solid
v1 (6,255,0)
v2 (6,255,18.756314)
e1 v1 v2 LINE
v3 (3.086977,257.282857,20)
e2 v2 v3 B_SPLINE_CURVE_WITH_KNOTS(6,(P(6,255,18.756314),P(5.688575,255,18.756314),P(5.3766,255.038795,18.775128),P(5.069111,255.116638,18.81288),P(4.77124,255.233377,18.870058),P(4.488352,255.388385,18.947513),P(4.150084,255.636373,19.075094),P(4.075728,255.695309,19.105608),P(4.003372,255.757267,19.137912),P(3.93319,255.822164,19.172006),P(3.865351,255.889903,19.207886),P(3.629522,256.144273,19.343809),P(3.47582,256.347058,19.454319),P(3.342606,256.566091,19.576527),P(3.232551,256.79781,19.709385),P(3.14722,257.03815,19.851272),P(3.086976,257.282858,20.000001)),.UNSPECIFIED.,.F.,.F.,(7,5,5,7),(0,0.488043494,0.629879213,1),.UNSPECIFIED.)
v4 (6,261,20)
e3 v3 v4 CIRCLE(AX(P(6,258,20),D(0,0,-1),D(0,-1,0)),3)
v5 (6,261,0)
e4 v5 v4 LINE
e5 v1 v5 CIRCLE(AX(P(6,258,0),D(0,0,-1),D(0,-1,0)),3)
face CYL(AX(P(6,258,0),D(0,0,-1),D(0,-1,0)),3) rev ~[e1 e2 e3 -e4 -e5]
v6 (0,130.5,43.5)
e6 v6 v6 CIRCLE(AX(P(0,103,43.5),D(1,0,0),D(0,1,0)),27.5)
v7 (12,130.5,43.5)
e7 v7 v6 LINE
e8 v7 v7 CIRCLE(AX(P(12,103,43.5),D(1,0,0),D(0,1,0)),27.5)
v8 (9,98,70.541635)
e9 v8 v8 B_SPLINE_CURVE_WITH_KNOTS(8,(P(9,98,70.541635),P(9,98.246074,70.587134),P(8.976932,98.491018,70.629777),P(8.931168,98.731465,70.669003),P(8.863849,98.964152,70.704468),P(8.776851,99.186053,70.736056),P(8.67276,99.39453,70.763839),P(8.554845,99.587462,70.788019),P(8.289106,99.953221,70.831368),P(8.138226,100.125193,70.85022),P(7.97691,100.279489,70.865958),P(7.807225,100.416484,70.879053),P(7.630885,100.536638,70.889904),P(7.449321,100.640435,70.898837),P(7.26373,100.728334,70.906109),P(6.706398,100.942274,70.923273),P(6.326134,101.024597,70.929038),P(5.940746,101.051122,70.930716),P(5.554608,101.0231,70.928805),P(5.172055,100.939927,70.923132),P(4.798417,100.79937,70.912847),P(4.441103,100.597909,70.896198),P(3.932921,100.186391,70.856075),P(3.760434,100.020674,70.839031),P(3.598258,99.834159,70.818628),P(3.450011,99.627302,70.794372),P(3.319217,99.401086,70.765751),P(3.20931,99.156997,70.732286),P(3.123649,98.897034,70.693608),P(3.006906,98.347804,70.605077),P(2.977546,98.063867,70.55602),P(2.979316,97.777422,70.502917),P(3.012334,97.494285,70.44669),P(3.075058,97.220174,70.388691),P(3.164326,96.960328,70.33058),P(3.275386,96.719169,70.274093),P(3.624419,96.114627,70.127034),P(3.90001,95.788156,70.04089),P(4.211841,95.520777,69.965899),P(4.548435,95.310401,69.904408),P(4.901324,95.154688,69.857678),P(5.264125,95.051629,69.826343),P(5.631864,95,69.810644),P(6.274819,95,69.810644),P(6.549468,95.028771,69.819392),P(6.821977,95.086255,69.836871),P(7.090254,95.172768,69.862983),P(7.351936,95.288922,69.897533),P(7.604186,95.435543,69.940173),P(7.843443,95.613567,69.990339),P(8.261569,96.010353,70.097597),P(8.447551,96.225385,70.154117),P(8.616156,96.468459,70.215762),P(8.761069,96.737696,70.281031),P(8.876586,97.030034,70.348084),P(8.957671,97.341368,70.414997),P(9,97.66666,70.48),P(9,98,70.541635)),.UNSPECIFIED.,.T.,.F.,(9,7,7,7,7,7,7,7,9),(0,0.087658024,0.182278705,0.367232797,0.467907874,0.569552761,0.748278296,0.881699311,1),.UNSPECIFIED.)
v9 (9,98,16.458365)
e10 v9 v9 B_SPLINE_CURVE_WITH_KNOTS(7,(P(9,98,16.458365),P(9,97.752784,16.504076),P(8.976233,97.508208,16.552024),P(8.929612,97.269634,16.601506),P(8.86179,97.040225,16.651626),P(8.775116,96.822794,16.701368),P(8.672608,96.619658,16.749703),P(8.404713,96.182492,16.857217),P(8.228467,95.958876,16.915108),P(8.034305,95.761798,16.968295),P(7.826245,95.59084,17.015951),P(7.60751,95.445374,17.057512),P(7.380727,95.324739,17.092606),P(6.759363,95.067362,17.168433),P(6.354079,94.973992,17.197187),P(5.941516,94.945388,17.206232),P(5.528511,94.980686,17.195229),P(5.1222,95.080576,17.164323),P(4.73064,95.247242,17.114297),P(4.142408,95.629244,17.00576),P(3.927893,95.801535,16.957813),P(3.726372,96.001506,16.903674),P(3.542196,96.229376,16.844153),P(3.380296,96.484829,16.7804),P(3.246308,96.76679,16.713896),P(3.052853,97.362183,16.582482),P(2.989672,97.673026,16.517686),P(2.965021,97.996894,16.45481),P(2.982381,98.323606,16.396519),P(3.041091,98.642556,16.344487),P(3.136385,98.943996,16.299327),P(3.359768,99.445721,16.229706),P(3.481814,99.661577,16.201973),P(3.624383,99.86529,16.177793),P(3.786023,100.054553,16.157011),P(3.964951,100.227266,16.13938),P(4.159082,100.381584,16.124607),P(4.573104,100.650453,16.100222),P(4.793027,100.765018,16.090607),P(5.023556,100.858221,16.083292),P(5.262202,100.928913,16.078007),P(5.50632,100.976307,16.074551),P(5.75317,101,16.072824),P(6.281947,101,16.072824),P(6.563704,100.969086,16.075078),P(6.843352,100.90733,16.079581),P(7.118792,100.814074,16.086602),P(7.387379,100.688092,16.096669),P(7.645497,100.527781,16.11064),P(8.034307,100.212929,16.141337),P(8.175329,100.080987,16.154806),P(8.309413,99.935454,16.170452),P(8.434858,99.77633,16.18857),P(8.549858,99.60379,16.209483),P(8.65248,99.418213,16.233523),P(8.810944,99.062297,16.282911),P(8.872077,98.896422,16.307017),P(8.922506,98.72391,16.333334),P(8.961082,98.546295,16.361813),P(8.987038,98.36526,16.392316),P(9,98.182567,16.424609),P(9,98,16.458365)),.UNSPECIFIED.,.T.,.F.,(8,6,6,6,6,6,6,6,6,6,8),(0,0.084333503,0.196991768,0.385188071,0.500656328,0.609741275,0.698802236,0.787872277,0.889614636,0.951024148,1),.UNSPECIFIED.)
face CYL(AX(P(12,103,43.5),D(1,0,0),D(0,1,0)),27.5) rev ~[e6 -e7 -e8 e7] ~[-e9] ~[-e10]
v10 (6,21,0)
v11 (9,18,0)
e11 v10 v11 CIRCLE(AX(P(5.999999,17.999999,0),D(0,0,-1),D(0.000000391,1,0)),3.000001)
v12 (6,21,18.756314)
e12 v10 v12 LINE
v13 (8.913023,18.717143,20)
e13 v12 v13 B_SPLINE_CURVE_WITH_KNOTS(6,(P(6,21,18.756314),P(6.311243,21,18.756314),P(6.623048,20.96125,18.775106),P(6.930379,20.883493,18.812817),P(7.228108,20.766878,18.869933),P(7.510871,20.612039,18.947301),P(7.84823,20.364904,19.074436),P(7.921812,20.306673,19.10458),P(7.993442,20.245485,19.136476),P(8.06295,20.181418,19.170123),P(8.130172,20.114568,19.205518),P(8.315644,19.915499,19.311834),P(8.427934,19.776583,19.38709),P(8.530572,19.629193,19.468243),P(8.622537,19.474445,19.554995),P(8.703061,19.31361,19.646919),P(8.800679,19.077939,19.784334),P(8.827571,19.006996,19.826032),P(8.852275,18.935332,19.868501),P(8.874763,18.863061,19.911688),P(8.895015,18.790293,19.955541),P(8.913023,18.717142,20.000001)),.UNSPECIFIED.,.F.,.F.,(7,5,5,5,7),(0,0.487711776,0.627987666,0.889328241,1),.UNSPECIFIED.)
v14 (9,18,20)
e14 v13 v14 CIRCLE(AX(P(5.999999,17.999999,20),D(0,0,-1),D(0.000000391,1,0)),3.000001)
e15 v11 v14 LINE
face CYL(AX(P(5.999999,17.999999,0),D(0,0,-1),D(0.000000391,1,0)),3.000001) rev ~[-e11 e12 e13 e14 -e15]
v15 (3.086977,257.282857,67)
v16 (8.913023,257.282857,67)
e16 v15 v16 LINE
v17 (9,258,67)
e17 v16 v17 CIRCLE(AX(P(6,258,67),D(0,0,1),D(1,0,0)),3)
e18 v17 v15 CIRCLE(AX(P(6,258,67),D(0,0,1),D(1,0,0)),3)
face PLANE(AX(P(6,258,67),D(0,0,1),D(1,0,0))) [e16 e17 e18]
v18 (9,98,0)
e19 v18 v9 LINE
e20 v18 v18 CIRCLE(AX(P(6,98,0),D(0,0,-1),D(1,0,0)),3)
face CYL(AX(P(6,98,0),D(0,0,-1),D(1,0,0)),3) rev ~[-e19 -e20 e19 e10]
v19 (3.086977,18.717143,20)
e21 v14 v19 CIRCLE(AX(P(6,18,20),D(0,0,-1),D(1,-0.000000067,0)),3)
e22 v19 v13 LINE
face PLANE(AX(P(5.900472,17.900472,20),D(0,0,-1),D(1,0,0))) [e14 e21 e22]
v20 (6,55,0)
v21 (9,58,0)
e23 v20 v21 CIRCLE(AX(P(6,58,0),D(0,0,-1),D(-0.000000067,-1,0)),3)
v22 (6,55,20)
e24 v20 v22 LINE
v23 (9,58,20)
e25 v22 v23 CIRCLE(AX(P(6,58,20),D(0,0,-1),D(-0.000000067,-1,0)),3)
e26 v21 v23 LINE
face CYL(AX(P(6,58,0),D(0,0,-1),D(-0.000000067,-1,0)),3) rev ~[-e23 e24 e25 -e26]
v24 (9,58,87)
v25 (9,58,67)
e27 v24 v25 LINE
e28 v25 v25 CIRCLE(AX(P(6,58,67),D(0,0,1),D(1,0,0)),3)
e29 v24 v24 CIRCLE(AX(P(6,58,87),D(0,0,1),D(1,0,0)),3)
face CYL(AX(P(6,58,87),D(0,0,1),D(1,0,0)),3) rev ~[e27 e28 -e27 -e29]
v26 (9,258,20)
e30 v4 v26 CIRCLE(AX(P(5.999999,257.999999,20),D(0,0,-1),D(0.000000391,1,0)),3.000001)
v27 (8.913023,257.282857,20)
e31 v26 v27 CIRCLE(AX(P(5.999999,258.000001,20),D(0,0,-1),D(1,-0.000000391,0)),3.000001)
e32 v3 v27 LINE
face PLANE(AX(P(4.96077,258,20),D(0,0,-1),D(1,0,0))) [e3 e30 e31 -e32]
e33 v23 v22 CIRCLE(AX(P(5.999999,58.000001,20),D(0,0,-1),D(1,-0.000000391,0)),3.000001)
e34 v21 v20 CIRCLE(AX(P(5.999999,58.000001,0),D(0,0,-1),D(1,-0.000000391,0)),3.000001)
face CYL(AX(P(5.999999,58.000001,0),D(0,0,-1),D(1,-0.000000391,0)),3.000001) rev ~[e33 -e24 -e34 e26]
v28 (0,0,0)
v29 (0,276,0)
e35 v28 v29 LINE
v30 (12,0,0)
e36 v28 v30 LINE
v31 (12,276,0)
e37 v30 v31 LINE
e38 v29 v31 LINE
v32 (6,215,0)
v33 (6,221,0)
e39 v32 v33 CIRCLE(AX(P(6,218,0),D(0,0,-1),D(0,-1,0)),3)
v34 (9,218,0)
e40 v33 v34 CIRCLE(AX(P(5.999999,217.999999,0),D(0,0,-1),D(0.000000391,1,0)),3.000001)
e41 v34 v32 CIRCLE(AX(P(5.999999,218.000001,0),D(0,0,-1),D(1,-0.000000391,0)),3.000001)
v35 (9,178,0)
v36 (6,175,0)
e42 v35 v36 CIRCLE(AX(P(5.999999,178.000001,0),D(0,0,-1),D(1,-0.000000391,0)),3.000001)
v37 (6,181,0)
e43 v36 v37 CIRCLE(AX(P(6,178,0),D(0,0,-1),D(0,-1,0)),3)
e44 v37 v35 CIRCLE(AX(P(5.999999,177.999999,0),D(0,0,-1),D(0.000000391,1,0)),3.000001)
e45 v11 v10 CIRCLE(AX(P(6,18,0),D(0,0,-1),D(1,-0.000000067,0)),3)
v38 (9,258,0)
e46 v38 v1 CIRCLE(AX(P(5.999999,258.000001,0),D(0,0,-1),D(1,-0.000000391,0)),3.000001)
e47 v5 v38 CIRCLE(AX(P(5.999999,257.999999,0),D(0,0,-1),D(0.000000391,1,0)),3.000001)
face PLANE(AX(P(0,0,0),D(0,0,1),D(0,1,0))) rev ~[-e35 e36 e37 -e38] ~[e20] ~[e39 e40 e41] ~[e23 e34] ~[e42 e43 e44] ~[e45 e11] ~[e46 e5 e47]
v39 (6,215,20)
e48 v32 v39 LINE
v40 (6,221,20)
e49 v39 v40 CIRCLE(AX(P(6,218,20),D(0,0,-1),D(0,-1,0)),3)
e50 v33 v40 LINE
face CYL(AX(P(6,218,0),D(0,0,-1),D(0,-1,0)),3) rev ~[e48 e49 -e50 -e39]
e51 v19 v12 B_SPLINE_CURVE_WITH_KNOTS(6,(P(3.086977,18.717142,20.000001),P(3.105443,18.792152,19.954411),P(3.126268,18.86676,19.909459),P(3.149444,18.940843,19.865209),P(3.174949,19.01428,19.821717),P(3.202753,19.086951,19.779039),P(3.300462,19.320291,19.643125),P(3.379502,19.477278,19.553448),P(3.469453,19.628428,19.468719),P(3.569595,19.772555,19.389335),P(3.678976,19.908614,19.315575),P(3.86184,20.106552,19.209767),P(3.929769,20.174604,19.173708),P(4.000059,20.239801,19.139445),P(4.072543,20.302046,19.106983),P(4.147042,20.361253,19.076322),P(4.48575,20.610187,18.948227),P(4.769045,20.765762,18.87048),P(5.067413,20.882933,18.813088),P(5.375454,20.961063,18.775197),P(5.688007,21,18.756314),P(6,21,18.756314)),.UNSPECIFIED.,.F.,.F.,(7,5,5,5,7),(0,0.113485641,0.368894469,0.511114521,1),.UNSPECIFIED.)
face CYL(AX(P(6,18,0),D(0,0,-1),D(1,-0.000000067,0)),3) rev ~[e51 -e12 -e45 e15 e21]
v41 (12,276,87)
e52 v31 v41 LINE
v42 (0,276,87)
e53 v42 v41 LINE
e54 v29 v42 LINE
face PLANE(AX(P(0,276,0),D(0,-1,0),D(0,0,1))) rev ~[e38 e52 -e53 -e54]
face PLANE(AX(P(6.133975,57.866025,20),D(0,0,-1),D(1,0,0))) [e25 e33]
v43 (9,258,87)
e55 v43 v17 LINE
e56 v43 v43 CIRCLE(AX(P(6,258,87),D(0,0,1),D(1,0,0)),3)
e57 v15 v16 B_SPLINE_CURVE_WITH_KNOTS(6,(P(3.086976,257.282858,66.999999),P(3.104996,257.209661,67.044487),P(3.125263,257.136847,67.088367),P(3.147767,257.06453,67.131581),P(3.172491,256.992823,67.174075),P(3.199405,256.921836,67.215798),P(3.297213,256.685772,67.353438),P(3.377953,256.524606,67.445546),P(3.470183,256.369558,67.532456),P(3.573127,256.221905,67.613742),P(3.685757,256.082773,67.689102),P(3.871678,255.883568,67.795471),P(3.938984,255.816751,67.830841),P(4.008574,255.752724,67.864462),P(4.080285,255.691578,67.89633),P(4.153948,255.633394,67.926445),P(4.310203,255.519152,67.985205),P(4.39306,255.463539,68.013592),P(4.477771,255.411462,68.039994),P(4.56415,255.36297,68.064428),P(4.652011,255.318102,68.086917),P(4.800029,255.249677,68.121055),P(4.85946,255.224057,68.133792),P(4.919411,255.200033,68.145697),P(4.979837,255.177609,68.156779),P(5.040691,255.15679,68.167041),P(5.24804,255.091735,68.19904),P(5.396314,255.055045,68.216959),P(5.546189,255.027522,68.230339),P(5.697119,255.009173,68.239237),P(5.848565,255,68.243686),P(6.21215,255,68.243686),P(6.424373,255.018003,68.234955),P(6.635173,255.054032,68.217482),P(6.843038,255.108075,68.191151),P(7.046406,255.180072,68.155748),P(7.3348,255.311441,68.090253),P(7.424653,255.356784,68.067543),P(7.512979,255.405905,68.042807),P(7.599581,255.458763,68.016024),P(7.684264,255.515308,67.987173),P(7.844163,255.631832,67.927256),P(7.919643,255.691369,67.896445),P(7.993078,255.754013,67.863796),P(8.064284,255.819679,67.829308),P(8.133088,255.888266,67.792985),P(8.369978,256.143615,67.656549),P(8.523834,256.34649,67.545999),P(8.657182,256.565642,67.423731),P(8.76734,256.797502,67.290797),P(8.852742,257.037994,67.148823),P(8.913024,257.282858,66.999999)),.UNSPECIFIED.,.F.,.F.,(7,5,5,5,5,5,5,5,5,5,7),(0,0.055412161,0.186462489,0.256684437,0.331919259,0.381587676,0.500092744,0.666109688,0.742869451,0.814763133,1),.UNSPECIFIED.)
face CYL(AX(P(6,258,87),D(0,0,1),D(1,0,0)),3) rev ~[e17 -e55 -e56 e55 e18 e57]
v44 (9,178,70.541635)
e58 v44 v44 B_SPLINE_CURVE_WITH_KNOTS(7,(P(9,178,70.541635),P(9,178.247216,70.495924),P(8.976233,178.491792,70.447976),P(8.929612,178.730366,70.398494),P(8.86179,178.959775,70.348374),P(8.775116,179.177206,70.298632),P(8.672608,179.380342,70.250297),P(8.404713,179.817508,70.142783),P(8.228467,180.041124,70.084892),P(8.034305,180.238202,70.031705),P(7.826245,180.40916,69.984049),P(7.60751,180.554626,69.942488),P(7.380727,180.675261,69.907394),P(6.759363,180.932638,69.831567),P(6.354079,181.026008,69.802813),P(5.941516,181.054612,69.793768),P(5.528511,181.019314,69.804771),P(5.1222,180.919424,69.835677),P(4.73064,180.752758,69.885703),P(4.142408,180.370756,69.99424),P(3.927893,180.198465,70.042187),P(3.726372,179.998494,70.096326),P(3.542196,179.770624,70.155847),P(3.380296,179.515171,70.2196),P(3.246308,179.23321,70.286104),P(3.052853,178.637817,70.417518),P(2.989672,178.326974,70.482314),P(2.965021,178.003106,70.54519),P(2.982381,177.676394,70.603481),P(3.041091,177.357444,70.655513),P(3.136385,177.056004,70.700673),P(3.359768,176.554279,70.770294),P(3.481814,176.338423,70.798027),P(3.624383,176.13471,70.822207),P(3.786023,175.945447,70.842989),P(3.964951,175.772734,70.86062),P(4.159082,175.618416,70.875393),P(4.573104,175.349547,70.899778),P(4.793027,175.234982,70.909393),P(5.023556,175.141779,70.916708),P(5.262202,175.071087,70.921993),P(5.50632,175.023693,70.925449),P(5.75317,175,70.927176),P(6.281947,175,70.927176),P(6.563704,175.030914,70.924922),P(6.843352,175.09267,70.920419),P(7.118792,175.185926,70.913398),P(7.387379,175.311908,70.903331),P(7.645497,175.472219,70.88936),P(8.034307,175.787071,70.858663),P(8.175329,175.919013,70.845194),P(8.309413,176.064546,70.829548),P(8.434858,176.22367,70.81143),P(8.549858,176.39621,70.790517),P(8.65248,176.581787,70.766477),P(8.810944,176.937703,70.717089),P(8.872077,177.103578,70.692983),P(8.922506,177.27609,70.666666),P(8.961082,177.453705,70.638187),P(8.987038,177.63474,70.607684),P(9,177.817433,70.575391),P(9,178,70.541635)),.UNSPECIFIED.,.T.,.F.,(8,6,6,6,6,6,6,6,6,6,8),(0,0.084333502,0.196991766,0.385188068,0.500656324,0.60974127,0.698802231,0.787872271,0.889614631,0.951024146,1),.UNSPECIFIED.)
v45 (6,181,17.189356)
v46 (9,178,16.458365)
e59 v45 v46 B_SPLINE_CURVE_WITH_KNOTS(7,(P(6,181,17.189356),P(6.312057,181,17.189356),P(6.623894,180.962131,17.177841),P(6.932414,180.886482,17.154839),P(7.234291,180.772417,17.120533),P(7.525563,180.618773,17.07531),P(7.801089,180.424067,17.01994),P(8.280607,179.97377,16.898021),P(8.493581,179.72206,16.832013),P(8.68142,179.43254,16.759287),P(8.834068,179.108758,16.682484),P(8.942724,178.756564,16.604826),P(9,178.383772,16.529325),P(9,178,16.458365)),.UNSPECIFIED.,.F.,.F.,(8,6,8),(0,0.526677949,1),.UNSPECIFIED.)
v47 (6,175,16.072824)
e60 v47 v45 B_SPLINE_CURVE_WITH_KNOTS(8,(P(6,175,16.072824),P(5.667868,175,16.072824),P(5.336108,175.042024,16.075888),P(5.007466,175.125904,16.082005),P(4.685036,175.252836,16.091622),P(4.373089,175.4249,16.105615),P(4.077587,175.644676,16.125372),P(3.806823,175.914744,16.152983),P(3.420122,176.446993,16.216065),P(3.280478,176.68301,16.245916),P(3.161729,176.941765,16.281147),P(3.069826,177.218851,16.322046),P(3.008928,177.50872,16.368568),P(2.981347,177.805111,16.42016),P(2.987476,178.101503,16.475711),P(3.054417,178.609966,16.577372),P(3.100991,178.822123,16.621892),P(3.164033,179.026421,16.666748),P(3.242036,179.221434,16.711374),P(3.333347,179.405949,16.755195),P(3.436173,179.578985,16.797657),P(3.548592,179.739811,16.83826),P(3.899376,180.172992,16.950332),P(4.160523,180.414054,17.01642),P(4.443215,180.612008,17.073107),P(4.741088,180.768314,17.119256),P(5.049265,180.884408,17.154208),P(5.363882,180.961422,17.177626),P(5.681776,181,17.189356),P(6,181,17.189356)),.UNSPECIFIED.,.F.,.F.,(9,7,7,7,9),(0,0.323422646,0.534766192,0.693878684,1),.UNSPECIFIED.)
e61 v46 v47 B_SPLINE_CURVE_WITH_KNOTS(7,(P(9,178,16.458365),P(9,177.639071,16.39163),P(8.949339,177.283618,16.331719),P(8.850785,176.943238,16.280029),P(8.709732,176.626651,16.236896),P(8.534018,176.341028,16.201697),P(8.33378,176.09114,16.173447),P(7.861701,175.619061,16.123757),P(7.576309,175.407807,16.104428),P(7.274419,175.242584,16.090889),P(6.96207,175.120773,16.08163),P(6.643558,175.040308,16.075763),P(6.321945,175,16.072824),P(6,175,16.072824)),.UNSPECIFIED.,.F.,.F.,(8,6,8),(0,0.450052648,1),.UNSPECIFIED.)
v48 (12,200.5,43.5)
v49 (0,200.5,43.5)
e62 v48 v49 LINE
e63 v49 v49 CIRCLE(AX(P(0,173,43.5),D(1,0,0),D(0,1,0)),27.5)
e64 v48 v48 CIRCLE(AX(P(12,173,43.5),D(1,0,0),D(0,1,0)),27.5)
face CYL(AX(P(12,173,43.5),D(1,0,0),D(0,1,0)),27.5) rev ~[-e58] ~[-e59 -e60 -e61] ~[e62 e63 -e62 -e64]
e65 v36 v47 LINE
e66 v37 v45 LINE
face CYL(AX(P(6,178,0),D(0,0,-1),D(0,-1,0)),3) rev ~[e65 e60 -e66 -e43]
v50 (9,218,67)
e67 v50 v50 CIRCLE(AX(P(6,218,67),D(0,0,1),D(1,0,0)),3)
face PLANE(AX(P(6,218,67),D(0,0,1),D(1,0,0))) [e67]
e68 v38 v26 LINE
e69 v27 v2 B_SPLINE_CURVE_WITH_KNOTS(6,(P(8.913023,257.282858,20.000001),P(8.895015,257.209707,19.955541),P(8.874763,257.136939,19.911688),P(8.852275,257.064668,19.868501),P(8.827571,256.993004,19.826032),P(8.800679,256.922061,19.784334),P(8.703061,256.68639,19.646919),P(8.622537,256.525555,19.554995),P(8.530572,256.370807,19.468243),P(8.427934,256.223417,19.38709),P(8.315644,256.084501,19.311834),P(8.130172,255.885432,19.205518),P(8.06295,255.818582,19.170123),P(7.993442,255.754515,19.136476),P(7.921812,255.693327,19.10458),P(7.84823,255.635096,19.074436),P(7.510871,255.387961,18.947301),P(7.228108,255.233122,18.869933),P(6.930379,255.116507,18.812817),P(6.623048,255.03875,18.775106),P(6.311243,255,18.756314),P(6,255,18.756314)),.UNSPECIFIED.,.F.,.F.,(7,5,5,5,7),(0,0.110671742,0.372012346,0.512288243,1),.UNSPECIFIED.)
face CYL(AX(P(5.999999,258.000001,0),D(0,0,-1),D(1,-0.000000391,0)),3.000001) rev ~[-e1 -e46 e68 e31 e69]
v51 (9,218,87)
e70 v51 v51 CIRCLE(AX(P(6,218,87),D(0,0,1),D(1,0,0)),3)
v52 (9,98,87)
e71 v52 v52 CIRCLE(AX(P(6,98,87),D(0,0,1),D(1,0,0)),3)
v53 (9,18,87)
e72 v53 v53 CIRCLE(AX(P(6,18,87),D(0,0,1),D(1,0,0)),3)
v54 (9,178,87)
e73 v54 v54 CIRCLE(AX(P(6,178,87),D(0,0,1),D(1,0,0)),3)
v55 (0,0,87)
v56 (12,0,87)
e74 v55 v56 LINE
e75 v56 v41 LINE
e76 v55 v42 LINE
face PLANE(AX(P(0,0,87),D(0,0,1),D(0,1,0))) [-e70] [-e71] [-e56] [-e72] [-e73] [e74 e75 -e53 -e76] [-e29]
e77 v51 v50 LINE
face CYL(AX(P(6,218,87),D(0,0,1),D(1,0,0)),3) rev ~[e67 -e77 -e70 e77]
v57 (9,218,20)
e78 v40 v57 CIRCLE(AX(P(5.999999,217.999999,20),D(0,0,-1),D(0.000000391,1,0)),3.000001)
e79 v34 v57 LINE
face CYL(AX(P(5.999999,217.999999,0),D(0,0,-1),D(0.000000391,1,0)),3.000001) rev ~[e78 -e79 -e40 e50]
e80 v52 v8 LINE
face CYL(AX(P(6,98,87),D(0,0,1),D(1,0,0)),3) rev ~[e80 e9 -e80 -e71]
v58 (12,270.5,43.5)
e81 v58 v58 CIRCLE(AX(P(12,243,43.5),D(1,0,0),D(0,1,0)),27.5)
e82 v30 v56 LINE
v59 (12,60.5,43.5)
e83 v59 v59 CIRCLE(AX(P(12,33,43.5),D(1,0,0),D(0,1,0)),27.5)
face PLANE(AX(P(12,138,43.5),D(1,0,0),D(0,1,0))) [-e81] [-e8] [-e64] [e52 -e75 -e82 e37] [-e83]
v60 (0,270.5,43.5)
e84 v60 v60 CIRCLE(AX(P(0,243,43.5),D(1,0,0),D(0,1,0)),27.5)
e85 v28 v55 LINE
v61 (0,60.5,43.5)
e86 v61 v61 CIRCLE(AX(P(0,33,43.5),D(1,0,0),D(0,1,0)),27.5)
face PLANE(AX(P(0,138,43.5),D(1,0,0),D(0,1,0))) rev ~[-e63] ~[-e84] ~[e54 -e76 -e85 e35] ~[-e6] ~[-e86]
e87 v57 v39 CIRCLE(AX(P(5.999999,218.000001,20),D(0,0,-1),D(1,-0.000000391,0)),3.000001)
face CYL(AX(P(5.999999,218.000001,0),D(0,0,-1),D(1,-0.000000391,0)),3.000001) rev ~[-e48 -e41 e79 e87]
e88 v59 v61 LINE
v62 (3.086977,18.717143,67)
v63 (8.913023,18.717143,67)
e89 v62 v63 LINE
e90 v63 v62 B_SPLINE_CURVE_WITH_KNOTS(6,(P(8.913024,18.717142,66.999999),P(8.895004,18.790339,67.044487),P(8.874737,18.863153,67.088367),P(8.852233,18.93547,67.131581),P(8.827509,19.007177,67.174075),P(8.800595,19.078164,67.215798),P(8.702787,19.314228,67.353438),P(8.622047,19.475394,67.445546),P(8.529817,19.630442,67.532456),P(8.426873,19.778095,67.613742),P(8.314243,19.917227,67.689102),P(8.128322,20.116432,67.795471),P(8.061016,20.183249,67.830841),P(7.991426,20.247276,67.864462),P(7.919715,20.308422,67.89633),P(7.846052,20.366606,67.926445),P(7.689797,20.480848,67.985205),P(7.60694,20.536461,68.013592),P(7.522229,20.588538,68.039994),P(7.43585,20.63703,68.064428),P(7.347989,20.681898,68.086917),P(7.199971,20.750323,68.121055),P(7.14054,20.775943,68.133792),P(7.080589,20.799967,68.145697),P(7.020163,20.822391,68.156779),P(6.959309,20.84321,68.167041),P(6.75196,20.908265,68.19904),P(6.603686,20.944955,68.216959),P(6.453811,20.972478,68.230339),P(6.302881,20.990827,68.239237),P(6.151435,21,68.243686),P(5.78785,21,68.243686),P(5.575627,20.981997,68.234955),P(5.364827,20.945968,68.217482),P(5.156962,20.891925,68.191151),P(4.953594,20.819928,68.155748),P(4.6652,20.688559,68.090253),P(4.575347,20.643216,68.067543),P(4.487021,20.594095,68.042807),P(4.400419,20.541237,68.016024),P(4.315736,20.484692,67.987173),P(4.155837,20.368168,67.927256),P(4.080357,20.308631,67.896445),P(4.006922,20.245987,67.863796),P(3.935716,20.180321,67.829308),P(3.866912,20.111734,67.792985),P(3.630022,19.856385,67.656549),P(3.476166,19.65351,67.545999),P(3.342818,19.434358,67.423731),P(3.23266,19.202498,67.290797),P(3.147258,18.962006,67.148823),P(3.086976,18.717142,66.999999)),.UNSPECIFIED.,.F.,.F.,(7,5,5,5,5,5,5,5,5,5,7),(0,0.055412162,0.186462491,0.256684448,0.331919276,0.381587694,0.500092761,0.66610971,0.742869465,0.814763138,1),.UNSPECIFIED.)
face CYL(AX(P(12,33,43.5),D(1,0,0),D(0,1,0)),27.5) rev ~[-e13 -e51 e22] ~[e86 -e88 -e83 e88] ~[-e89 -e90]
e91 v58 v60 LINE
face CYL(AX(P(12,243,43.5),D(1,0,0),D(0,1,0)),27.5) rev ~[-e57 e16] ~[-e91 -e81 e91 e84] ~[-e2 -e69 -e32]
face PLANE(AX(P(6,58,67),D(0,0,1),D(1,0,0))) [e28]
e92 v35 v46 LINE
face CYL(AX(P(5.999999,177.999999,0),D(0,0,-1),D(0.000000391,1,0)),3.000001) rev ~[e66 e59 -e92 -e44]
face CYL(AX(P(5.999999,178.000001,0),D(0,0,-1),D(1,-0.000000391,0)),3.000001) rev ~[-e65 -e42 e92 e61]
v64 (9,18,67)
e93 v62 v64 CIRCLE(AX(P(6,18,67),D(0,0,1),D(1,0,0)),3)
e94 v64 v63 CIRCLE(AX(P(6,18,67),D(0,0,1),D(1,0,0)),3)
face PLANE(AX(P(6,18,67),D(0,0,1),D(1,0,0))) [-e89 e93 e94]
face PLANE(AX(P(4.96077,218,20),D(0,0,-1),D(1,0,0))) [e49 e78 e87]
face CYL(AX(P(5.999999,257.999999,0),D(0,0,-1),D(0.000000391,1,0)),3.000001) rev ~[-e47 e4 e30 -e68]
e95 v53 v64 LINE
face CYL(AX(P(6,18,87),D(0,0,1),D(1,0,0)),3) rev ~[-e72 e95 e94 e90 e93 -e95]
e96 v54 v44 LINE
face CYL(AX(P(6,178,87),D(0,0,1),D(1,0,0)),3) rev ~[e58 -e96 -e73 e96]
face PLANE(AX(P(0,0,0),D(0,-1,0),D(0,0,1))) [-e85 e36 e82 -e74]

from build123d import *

# Parameters (mm, degrees)
F0_W     = 276
F0_H     = 87
F1_DEPTH = 12
F2_R     = 27.5
F3_DEPTH = 25
F4_R     = 3
F5_DEPTH = 20
F6_R     = 3
F7_DEPTH = 20


with BuildPart() as f1:
    # F0 (on Right) → F1 (new body)
    with BuildSketch(Plane.YZ):
        with Locations((138, 43.5)):
            Rectangle(F0_W, F0_H)
    extrude(amount=F1_DEPTH)

    # F2 (on face) → F3 (cut)
    with BuildSketch(Plane.YZ.offset(12)):
        with Locations((103, 43.5)):
            Circle(F2_R)
        with Locations((173, 43.5)):
            Circle(F2_R)
        with Locations((33, 43.5)):
            Circle(F2_R)
        with Locations((243, 43.5)):
            Circle(F2_R)
    extrude(amount=-F3_DEPTH, mode=Mode.SUBTRACT)

    # F4 (on face) → F5 (cut)
    with BuildSketch(Plane.XY.offset(87)):
        with Locations((6, 258)):
            Circle(F4_R)
        with Locations((6, 218)):
            Circle(F4_R)
        with Locations((6, 178)):
            Circle(F4_R)
        with Locations((6, 18)):
            Circle(F4_R)
        with Locations((6, 58)):
            Circle(F4_R)
        with Locations((6, 98)):
            Circle(F4_R)
    extrude(amount=-F5_DEPTH, mode=Mode.SUBTRACT)

    # F6 (on face) → F7 (cut)
    with BuildSketch(Plane(origin=(0, 0, 0), x_dir=(1, 0, 0), z_dir=(0, 0, -1))):
        with BuildLine():
            ThreePointArc((6, -255), (3, -258), (6, -261))
            Line((6, -261), (6, -258))
            Line((6, -258), (6, -255))
        make_face()
        with BuildLine():
            ThreePointArc((6, -175), (3, -178), (6, -181))
            Line((6, -181), (6, -175))
        make_face()
        with BuildLine():
            Line((6, -175), (6, -181))
            ThreePointArc((6, -181), (8.12132, -180.12132), (9, -178))
            ThreePointArc((9, -178), (8.12132, -175.87868), (6, -175))
        make_face()
        with BuildLine():
            ThreePointArc((6, -215), (3, -218), (6, -221))
            Line((6, -221), (6, -218))
            Line((6, -218), (6, -215))
        make_face()
        with BuildLine():
            Line((6, -218), (6, -221))
            ThreePointArc((6, -221), (8.12132, -220.12132), (9, -218))
            ThreePointArc((9, -218), (8.12132, -215.87868), (6, -215))
            Line((6, -215), (6, -218))
        make_face()
        with BuildLine():
            Line((6, -258), (6, -261))
            ThreePointArc((6, -261), (8.12132, -260.12132), (9, -258))
            Line((9, -258), (6, -258))
        make_face()
        with BuildLine():
            Line((6, -255), (6, -258))
            Line((6, -258), (9, -258))
            ThreePointArc((9, -258), (8.12132, -255.87868), (6, -255))
        make_face()
        with BuildLine():
            Line((6, -18), (9, -18))
            ThreePointArc((9, -18), (3.87868, -15.87868), (6, -21))
            Line((6, -21), (6, -18))
        make_face()
        with BuildLine():
            ThreePointArc((9, -58), (8.12132, -55.87868), (6, -55))
            ThreePointArc((6, -55), (3.87868, -60.12132), (9, -58))
        make_face()
        with BuildLine():
            ThreePointArc((6, -21), (8.12132, -20.12132), (9, -18))
            Line((9, -18), (6, -18))
            Line((6, -18), (6, -21))
        make_face()
        with Locations((6, -98)):
            Circle(F6_R)
    extrude(amount=-F7_DEPTH, mode=Mode.SUBTRACT)


solid = f1.part
